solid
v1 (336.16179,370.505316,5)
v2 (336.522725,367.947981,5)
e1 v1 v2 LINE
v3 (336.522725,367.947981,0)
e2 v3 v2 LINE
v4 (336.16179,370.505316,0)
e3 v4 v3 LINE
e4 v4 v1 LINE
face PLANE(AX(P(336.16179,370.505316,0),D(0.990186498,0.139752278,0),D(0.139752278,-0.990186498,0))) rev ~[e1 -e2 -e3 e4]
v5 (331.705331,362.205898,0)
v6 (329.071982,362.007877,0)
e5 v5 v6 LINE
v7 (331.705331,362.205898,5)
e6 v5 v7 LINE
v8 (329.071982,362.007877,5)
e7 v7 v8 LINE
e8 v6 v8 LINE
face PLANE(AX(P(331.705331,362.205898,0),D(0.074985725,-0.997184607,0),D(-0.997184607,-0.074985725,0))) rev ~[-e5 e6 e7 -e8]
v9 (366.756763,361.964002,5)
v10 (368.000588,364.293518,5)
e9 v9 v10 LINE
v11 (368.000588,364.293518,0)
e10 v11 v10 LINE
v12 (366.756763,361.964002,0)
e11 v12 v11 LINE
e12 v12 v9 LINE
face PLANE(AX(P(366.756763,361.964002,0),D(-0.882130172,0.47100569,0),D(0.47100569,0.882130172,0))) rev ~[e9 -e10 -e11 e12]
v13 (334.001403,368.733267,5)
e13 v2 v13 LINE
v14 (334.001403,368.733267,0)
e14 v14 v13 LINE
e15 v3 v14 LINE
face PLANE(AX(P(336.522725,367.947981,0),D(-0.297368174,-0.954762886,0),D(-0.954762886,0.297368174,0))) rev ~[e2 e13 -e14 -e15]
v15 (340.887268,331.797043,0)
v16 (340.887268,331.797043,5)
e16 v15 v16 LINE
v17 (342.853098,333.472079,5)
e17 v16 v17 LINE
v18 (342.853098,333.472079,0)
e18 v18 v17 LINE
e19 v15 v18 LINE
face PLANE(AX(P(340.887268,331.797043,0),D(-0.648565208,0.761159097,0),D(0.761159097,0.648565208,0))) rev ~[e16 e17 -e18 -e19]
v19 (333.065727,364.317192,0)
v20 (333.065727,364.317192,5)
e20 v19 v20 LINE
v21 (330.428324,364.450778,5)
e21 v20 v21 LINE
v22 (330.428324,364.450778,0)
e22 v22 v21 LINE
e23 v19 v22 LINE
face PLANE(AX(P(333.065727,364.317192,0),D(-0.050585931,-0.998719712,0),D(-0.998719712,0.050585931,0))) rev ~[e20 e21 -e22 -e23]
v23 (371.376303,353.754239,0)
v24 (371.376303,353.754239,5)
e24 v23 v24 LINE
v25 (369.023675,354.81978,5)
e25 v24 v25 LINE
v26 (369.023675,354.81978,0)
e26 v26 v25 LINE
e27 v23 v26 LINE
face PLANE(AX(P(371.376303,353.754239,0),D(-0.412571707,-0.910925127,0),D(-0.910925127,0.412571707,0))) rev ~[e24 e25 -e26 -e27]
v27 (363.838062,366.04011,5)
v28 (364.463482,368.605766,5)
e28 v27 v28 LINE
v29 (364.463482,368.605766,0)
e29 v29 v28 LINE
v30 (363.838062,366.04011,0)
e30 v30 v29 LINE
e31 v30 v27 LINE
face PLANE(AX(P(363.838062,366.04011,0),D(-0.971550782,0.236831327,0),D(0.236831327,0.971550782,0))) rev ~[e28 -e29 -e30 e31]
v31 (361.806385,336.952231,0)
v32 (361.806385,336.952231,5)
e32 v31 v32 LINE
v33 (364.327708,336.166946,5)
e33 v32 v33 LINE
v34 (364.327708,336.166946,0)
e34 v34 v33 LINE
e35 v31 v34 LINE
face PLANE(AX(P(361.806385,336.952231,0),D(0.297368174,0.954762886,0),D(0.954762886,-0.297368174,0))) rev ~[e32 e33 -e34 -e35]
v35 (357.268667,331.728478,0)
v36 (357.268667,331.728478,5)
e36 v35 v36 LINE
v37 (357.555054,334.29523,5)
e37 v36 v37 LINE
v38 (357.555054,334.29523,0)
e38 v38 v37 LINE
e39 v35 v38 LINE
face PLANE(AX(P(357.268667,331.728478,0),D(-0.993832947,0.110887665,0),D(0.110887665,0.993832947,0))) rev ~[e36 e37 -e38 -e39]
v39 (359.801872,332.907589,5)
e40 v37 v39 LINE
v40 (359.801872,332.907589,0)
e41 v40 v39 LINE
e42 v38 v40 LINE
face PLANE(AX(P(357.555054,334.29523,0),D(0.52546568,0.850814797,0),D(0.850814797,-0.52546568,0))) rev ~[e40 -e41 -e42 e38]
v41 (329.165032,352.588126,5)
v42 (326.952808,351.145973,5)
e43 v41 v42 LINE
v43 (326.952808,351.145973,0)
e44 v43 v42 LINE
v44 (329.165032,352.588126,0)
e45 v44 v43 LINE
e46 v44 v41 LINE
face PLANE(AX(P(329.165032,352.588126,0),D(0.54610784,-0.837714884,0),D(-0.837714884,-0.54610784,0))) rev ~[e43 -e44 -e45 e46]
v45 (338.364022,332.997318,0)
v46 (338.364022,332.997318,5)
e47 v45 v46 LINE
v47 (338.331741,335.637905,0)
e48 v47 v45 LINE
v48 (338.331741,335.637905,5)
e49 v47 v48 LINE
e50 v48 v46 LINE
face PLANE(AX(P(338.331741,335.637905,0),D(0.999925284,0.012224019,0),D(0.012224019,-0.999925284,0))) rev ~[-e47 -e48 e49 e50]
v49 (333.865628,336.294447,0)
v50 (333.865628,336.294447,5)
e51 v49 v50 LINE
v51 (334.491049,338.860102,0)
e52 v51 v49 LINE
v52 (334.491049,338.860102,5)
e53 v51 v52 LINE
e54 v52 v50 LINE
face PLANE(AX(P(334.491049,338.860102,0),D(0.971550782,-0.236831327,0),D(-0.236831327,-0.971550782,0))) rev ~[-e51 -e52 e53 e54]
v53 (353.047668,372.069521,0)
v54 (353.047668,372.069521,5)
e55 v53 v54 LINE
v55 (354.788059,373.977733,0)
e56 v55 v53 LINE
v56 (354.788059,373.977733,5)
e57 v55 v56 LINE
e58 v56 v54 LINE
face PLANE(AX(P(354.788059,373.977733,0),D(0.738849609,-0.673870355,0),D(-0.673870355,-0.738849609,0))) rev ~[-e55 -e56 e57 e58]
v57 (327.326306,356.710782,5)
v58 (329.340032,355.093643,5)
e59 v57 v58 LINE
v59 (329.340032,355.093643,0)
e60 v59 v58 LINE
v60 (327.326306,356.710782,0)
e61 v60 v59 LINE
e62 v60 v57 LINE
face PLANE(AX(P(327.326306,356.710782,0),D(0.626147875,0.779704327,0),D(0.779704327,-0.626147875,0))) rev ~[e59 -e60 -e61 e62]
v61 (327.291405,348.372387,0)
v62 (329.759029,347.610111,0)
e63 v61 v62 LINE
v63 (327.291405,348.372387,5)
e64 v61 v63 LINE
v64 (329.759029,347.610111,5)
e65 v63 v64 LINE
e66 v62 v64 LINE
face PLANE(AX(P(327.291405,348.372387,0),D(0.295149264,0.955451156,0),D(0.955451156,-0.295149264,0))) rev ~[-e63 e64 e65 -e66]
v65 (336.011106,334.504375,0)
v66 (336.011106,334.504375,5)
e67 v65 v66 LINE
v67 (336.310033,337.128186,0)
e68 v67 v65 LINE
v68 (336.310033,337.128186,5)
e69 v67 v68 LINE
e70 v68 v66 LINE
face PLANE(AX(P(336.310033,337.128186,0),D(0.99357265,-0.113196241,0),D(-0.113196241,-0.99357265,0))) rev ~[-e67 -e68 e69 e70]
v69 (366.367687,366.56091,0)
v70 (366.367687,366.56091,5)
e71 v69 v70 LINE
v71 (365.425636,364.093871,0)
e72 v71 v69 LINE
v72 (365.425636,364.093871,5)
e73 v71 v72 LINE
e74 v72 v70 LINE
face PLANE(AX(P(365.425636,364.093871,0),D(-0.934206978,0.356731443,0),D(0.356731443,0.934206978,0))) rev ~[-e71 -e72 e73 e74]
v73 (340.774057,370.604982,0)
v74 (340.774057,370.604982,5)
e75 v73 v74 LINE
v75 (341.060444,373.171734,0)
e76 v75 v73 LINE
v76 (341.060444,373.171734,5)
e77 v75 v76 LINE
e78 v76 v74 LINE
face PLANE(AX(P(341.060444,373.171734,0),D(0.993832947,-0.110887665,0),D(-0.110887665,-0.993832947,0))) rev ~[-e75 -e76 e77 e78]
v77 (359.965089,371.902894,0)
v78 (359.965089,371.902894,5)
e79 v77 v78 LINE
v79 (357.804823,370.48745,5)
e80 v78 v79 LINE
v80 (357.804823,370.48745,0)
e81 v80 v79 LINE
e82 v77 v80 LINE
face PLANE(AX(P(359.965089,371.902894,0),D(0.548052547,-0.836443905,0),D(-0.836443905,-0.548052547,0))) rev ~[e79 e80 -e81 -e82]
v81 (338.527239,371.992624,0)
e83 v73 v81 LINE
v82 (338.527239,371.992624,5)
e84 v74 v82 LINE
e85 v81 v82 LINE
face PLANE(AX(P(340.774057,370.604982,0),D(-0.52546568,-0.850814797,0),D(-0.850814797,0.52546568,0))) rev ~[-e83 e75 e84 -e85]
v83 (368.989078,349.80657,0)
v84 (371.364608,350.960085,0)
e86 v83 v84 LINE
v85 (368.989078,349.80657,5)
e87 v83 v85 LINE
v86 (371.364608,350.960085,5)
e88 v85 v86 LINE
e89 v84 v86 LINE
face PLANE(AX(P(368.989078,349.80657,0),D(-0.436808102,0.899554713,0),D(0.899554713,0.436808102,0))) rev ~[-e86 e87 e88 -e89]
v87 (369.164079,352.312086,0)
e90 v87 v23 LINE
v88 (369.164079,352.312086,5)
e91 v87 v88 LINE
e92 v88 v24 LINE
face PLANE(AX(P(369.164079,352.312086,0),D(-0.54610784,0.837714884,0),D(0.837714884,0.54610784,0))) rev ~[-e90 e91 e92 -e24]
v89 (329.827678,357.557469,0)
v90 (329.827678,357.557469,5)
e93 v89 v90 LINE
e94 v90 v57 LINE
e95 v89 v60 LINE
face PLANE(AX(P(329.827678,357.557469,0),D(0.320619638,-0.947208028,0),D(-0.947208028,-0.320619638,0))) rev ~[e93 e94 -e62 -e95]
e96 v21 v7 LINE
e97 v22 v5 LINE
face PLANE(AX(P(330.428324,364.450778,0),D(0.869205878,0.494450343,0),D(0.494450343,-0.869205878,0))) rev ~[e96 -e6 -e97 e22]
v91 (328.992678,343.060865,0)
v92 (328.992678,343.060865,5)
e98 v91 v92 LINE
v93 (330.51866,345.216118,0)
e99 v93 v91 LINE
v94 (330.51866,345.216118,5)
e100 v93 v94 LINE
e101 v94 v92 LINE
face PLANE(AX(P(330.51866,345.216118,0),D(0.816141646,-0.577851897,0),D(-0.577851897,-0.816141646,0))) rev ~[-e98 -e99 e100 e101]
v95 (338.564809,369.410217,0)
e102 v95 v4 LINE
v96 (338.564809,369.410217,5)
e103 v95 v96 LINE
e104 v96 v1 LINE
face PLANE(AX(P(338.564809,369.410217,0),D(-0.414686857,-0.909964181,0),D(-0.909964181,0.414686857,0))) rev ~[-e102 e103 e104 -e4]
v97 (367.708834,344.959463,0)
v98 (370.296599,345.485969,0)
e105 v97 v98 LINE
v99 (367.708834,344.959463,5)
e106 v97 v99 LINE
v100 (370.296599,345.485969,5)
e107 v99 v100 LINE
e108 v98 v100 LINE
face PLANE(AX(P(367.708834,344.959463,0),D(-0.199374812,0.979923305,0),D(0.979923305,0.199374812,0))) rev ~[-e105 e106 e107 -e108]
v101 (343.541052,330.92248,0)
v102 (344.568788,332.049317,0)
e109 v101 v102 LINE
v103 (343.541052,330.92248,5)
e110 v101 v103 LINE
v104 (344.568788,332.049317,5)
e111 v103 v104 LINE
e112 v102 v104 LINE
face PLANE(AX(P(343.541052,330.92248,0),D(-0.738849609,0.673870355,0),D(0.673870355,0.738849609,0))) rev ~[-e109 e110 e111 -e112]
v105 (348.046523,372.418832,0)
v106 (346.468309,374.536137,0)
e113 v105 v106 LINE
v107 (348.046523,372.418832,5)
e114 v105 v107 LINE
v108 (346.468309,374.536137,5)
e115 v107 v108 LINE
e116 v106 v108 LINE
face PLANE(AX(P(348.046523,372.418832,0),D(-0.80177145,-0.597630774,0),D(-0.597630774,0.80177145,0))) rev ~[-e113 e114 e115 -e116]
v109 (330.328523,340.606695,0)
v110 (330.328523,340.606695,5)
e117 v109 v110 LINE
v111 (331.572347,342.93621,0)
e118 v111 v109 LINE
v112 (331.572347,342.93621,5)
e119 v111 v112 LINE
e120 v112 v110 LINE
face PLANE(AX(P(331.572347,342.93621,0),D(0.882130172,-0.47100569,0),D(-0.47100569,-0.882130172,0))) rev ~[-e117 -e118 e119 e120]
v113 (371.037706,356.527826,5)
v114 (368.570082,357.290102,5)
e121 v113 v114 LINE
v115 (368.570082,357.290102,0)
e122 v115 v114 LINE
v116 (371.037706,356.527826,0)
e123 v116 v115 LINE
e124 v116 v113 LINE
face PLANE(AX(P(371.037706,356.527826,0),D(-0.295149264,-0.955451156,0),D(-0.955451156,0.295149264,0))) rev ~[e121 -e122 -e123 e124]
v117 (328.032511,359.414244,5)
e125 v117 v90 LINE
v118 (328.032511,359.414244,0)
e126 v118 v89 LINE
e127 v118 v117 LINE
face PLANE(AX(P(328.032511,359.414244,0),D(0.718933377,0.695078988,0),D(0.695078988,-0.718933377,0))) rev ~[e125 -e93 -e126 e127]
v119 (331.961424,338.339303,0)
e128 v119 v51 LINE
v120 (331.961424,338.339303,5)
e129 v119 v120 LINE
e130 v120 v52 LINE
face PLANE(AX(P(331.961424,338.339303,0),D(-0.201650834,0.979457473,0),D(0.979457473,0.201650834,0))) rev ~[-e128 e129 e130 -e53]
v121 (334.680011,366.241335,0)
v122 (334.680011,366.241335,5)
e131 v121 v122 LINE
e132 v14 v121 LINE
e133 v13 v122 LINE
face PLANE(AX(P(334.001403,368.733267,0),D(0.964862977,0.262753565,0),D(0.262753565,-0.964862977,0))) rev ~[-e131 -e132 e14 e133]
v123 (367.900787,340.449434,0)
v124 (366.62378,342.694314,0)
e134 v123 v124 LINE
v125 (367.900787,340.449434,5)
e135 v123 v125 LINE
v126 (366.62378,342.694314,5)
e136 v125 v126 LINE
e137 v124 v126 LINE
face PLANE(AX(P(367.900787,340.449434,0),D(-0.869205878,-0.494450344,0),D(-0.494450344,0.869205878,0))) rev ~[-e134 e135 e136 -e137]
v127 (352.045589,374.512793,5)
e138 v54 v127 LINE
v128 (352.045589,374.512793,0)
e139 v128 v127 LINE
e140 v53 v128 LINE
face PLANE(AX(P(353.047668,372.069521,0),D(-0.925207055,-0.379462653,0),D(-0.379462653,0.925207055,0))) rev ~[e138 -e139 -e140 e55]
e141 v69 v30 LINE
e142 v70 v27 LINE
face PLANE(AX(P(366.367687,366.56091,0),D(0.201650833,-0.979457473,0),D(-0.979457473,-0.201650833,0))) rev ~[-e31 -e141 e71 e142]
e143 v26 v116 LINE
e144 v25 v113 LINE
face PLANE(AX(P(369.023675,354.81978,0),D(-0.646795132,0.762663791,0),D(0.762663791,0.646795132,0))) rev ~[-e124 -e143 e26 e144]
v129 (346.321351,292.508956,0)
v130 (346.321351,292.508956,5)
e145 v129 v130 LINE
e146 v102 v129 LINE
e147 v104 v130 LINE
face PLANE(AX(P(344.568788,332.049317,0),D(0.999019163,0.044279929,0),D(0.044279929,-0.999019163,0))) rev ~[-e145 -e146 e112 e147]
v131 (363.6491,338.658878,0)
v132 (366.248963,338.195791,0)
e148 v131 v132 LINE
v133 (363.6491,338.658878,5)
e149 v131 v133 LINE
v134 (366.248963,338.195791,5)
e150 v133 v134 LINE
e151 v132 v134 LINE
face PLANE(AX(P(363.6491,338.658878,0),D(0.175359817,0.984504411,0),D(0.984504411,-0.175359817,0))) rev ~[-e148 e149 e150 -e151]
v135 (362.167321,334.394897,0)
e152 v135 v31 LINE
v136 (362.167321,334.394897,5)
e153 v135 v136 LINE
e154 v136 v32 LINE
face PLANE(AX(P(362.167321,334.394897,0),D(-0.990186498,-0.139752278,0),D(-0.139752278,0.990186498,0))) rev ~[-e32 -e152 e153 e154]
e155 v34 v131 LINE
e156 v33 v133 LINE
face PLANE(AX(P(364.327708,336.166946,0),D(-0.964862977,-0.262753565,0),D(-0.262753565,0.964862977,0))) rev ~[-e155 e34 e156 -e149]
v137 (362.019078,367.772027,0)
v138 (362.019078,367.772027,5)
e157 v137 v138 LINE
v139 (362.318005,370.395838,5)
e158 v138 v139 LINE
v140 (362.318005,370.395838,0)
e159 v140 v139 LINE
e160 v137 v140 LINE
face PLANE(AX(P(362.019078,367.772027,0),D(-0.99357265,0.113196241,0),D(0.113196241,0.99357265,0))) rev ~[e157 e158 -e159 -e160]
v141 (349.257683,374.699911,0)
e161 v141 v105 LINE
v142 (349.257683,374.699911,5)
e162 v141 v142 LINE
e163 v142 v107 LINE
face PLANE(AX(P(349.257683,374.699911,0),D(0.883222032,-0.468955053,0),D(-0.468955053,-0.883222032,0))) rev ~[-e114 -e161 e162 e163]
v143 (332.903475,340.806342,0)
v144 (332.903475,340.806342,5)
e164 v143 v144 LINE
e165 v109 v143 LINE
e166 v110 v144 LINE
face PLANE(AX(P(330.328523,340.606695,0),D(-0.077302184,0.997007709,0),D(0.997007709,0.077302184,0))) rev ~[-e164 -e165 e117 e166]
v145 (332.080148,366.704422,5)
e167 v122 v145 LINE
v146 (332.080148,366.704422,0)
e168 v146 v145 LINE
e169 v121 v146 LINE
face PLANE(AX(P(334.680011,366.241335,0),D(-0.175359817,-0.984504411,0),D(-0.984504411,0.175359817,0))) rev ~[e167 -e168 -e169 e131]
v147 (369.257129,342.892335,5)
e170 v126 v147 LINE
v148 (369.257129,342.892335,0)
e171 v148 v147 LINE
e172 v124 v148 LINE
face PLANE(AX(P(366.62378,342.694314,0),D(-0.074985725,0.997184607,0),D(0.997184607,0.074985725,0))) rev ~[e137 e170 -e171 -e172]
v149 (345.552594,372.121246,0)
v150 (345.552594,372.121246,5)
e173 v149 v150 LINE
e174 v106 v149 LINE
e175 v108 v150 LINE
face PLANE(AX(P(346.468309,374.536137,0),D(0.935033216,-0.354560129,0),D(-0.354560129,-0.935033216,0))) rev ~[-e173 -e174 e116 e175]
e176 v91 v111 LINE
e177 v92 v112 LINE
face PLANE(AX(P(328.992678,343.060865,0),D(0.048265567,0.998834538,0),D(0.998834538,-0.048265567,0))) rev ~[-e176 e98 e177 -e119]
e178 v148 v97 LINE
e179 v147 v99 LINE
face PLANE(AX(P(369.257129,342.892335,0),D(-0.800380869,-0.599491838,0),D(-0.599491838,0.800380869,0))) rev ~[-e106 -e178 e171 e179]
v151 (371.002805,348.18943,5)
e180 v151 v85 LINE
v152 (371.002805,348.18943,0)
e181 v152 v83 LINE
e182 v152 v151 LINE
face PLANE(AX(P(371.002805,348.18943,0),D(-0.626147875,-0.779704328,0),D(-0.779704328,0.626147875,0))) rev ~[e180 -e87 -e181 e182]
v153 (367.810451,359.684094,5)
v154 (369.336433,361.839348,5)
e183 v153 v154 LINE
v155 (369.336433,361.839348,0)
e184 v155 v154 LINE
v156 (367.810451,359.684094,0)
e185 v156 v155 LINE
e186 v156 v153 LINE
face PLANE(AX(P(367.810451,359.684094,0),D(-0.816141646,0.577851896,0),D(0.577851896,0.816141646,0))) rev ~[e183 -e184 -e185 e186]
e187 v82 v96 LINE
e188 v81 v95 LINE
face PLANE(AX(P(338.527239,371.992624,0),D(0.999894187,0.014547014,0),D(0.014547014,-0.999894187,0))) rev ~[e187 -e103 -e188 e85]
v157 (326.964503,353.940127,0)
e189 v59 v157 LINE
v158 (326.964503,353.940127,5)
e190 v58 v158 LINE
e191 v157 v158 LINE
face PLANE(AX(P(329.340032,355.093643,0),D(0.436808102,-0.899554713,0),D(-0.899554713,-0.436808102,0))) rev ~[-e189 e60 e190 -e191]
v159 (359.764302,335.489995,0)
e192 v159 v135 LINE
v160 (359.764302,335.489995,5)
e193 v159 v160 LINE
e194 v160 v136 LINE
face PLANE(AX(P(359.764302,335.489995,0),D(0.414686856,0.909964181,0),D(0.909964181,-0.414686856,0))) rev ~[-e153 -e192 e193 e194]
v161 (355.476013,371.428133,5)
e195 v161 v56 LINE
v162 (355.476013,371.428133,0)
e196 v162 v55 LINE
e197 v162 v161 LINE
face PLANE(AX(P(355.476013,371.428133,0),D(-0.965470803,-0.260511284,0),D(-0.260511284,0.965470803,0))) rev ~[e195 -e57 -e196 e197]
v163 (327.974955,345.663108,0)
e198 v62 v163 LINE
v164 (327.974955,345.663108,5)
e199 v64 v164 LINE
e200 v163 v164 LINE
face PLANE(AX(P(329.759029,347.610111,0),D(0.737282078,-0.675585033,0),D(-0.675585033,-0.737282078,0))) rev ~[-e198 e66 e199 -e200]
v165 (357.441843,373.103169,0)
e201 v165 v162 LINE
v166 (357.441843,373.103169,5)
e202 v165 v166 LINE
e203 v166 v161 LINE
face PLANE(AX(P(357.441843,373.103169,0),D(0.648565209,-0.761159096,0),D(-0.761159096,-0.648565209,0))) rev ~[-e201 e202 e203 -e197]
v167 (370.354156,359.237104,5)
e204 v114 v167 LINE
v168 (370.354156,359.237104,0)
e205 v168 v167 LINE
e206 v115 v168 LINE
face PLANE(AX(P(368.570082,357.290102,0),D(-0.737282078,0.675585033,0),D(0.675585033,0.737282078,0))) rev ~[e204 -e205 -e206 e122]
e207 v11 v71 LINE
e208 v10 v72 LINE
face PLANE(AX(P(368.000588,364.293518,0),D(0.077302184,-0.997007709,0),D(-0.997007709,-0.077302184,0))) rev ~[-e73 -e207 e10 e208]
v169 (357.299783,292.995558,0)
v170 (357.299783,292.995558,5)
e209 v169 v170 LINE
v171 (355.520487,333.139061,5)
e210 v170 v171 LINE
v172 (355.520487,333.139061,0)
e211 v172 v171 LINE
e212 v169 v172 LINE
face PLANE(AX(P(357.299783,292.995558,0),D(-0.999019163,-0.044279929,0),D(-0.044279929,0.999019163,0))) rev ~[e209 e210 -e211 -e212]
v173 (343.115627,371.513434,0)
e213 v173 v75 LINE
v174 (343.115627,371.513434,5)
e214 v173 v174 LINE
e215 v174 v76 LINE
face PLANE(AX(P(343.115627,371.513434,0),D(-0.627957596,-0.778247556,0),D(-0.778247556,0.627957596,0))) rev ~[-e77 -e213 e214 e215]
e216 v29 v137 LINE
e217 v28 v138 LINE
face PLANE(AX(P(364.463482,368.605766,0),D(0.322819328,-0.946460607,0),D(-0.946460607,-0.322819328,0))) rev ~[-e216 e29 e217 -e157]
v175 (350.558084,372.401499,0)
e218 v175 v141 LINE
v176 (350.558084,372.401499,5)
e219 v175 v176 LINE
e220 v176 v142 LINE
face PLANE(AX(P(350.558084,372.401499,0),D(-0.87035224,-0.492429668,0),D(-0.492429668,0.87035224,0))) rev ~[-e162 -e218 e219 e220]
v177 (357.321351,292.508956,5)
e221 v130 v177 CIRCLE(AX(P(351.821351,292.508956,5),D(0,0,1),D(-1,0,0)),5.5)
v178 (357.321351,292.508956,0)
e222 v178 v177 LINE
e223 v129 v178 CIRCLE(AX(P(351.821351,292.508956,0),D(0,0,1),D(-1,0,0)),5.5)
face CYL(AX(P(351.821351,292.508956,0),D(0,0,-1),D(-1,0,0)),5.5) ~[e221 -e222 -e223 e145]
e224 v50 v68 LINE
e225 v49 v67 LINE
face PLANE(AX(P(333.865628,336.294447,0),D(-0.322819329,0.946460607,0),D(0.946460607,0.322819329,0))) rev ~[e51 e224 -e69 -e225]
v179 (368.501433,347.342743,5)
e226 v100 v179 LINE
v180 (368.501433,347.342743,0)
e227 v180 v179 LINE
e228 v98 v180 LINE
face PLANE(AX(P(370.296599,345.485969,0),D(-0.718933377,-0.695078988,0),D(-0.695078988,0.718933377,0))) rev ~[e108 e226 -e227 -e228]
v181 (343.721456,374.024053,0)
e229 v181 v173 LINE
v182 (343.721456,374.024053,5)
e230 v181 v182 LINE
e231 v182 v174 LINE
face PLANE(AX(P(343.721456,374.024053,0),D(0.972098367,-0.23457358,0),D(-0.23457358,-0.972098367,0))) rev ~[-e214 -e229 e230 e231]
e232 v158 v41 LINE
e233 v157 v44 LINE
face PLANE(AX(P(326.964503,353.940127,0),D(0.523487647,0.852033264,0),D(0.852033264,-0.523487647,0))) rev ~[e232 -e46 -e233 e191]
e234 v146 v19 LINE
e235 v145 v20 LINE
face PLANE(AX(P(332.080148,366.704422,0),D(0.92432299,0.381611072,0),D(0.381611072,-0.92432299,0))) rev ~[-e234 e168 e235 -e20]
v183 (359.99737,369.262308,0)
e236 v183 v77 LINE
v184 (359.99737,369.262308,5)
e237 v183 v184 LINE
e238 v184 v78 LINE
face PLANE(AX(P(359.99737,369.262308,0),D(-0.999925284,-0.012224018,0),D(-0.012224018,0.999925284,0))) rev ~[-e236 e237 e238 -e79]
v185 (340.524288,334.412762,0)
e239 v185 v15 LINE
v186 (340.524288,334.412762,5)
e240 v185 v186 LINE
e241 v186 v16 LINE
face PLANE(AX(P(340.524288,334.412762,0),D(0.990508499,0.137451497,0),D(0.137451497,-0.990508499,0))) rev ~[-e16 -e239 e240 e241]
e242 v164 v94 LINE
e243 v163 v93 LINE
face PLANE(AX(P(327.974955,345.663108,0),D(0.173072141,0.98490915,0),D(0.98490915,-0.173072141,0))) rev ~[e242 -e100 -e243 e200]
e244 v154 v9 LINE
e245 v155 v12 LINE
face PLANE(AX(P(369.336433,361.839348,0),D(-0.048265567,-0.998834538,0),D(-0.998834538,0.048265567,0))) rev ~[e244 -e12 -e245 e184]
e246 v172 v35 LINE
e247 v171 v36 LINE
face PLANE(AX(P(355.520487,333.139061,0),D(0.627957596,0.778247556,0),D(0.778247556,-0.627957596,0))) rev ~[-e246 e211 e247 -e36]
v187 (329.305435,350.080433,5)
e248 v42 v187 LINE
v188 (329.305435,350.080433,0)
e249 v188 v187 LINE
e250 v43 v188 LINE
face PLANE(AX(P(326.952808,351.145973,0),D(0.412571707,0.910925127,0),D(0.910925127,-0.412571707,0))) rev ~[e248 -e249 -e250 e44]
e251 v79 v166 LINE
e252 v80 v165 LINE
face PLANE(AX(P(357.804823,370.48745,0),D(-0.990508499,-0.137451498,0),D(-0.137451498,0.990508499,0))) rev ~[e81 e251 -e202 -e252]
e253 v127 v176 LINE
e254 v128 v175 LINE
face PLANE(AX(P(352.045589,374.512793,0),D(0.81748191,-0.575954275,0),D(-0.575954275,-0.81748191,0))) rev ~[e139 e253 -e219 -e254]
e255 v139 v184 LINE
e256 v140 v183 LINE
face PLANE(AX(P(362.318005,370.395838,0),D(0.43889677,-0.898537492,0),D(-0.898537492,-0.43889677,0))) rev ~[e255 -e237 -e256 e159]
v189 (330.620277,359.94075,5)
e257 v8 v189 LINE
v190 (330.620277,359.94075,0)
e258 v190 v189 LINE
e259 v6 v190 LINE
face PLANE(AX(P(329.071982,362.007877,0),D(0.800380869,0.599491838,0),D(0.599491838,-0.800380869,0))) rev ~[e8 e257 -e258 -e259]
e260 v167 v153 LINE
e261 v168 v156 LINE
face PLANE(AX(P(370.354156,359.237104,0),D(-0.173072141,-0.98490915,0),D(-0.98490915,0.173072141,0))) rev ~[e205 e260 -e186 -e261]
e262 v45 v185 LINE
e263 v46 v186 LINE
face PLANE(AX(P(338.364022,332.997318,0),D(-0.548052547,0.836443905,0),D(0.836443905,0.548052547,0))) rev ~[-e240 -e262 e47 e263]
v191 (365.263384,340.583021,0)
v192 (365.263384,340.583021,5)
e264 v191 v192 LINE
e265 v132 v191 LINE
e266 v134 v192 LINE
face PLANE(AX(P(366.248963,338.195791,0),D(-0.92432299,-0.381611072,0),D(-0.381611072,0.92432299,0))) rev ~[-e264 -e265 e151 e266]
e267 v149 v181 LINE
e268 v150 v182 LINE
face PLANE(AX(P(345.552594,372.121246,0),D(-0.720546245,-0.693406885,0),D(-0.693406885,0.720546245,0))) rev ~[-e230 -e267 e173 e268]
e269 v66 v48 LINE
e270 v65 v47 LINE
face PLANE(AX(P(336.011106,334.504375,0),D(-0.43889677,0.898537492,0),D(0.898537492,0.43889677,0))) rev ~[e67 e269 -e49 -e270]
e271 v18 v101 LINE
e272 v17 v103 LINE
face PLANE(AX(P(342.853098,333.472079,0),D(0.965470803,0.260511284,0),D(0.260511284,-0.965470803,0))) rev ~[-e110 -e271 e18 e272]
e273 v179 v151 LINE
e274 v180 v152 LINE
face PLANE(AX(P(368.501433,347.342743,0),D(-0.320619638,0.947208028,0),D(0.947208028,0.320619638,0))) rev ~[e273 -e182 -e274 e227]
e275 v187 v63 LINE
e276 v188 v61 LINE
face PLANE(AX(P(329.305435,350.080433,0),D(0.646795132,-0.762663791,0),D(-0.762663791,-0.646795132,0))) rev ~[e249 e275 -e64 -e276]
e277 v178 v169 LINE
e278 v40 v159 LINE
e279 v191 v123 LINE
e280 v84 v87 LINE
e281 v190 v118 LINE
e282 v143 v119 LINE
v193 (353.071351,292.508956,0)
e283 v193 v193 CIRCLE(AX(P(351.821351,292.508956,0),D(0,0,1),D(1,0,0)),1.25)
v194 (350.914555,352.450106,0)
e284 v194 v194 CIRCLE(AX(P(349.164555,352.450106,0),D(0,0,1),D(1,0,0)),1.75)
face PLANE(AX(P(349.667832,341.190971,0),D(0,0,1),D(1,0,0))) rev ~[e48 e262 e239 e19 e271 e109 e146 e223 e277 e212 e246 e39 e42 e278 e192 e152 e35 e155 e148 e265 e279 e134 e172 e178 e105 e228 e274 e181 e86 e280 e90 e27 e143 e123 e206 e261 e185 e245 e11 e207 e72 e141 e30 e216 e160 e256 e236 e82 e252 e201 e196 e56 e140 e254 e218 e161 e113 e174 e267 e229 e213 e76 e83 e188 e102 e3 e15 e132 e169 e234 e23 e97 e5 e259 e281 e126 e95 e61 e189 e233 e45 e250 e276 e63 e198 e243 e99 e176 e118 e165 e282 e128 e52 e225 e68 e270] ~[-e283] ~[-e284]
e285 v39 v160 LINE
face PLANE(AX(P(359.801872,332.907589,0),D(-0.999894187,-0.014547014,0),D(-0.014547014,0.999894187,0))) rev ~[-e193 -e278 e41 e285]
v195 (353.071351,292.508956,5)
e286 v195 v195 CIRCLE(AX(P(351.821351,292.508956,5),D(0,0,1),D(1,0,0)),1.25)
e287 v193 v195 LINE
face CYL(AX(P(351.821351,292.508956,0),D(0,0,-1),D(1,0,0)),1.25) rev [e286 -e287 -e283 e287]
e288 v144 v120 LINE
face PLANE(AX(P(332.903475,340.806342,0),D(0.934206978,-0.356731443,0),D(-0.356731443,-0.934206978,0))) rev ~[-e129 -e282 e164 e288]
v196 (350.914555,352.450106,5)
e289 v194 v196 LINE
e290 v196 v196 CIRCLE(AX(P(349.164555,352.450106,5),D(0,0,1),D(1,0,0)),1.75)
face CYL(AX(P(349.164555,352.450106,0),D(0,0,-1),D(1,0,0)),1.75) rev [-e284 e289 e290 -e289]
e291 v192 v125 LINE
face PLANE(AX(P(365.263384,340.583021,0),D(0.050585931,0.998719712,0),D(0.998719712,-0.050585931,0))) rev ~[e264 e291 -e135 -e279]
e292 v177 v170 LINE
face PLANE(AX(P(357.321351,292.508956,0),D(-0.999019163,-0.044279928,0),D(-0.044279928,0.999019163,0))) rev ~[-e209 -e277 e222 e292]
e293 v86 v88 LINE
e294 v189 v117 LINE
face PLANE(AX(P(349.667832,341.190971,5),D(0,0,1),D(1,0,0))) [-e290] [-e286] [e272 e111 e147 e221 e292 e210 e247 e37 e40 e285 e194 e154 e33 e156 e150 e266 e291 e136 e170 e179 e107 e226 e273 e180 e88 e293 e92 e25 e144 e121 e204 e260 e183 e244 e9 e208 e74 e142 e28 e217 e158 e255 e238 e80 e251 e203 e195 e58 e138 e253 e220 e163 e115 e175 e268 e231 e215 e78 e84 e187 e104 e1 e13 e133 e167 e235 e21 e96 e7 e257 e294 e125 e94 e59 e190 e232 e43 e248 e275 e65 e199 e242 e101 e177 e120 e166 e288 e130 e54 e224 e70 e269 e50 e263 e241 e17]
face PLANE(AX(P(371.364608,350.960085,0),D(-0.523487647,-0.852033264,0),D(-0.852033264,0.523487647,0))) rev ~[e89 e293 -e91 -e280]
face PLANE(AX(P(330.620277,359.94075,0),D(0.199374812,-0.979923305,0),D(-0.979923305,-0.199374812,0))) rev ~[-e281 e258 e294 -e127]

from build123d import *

# Parameters (mm, degrees)
SKETCH1_R           = 1.25
SKETCH1_R_2         = 1.75
BOSS_EXTRUDE2_DEPTH = 5


with BuildPart() as part:
    # Sketch1 → Boss-Extrude2 (new body)
    with BuildSketch(Plane.XY):
        with BuildLine():
            Line((349.257683179, 374.699911371), (348.046522548, 372.418831878))
            Line((348.046522548, 372.418831878), (346.468308818, 374.536137019))
            Line((346.468308818, 374.536137019), (345.55259362, 372.121245841))
            Line((345.55259362, 372.121245841), (343.721455877, 374.024052769))
            Line((343.721455877, 374.024052769), (343.115627486, 371.513434183))
            Line((343.115627486, 371.513434183), (341.060443866, 373.171734495))
            Line((341.060443866, 373.171734495), (340.774056559, 370.604982455))
            Line((340.774056559, 370.604982455), (338.527238535, 371.992623765))
            Line((338.527238535, 371.992623765), (338.564808811, 369.410217484))
            Line((338.564808811, 369.410217484), (336.161790046, 370.505315861))
            Line((336.161790046, 370.505315861), (336.522725398, 367.947981428))
            Line((336.522725398, 367.947981428), (334.001402933, 368.733266515))
            Line((334.001402933, 368.733266515), (334.680011196, 366.241334623))
            Line((334.680011196, 366.241334623), (332.080147792, 366.704422005))
            Line((332.080147792, 366.704422005), (333.065726908, 364.317191908))
            Line((333.065726908, 364.317191908), (330.428323965, 364.450778421))
            Line((330.428323965, 364.450778421), (331.705330762, 362.205898164))
            Line((331.705330762, 362.205898164), (329.0719817, 362.007877067))
            Line((329.0719817, 362.007877067), (330.620277019, 359.940749753))
            Line((330.620277019, 359.940749753), (328.032511325, 359.414243959))
            Line((328.032511325, 359.414243959), (329.827677623, 357.55746942))
            Line((329.827677623, 357.55746942), (327.326305908, 356.71078224))
            Line((327.326305908, 356.71078224), (329.34003234, 355.093642919))
            Line((329.34003234, 355.093642919), (326.964502731, 353.940127114))
            Line((326.964502731, 353.940127114), (329.165031629, 352.588126266))
            Line((329.165031629, 352.588126266), (326.952807646, 351.145973471))
            Line((326.952807646, 351.145973471), (329.305435355, 350.080432955))
            Line((329.305435355, 350.080432955), (327.291405091, 348.37238678))
            Line((327.291405091, 348.37238678), (329.759029266, 347.610110808))
            Line((329.759029266, 347.610110808), (327.974955183, 345.663108161))
            Line((327.974955183, 345.663108161), (330.518659917, 345.21611828))
            Line((330.518659917, 345.21611828), (328.992677928, 343.060864557))
            Line((328.992677928, 343.060864557), (331.572347478, 342.936210064))
            Line((331.572347478, 342.936210064), (330.328523231, 340.606694904))
            Line((330.328523231, 340.606694904), (332.903474666, 340.806341675))
            Line((332.903474666, 340.806341675), (331.961424013, 338.339302922))
            Line((331.961424013, 338.339302922), (334.491048812, 338.860102409))
            Line((334.491048812, 338.860102409), (333.865628454, 336.294446739))
            Line((333.865628454, 336.294446739), (336.310032922, 337.128185622))
            Line((336.310032922, 337.128185622), (336.011106111, 334.504374958))
            Line((336.011106111, 334.504374958), (338.331740529, 335.637904676))
            Line((338.331740529, 335.637904676), (338.364021521, 332.997318079))
            Line((338.364021521, 332.997318079), (340.524288099, 334.412762192))
            Line((340.524288099, 334.412762192), (340.887267801, 331.797043291))
            Line((340.887267801, 331.797043291), (342.853097845, 333.4720794))
            Line((342.853097845, 333.4720794), (343.541051852, 330.922479643))
            Line((343.541051852, 330.922479643), (344.568787794, 332.049317014))
            Line((344.568787794, 332.049317014), (346.321351139, 292.508956491))
            ThreePointArc((346.321351139, 292.508956491), (351.821351139, 287.008956491), (357.321351139, 292.508956491))
            Line((357.321351139, 292.508956491), (357.299783306, 292.995557967))
            Line((357.299783306, 292.995557967), (355.520486612, 333.139061449))
            Line((355.520486612, 333.139061449), (357.268666905, 331.728478036))
            Line((357.268666905, 331.728478036), (357.555054212, 334.295230076))
            Line((357.555054212, 334.295230076), (359.801872235, 332.907588766))
            Line((359.801872235, 332.907588766), (359.76430196, 335.489995047))
            Line((359.76430196, 335.489995047), (362.167320725, 334.394896671))
            Line((362.167320725, 334.394896671), (361.806385373, 336.952231103))
            Line((361.806385373, 336.952231103), (364.327707838, 336.166946016))
            Line((364.327707838, 336.166946016), (363.649099575, 338.658877908))
            Line((363.649099575, 338.658877908), (366.248962979, 338.195790526))
            Line((366.248962979, 338.195790526), (365.263383863, 340.583020623))
            Line((365.263383863, 340.583020623), (367.900786806, 340.449434111))
            Line((367.900786806, 340.449434111), (366.623780008, 342.694314367))
            Line((366.623780008, 342.694314367), (369.257129071, 342.892335464))
            Line((369.257129071, 342.892335464), (367.708833752, 344.959462778))
            Line((367.708833752, 344.959462778), (370.296599446, 345.485968572))
            Line((370.296599446, 345.485968572), (368.501433148, 347.342743111))
            Line((368.501433148, 347.342743111), (371.002804863, 348.189430292))
            Line((371.002804863, 348.189430292), (368.98907843, 349.806569612))
            Line((368.98907843, 349.806569612), (371.36460804, 350.960085417))
            Line((371.36460804, 350.960085417), (369.164079142, 352.312086265))
            Line((369.164079142, 352.312086265), (371.376303125, 353.754239061))
            Line((371.376303125, 353.754239061), (369.023675416, 354.819779576))
            Line((369.023675416, 354.819779576), (371.03770568, 356.527825751))
            Line((371.03770568, 356.527825751), (368.570081505, 357.290101724))
            Line((368.570081505, 357.290101724), (370.354155588, 359.23710437))
            Line((370.354155588, 359.23710437), (367.810450854, 359.684094251))
            Line((367.810450854, 359.684094251), (369.336432842, 361.839347974))
            Line((369.336432842, 361.839347974), (366.756763293, 361.964002467))
            Line((366.756763293, 361.964002467), (368.00058754, 364.293517627))
            Line((368.00058754, 364.293517627), (365.425636104, 364.093870857))
            Line((365.425636104, 364.093870857), (366.367686758, 366.560909609))
            Line((366.367686758, 366.560909609), (363.838061959, 366.040110123))
            Line((363.838061959, 366.040110123), (364.463482317, 368.605765792))
            Line((364.463482317, 368.605765792), (362.019077849, 367.77202691))
            Line((362.019077849, 367.77202691), (362.31800466, 370.395837574))
            Line((362.31800466, 370.395837574), (359.997370241, 369.262307855))
            Line((359.997370241, 369.262307855), (359.96508925, 371.902894452))
            Line((359.96508925, 371.902894452), (357.804822672, 370.487450339))
            Line((357.804822672, 370.487450339), (357.441842969, 373.103169241))
            Line((357.441842969, 373.103169241), (355.476012926, 371.428133131))
            Line((355.476012926, 371.428133131), (354.788058919, 373.977732888))
            Line((354.788058919, 373.977732888), (353.047667725, 372.069521103))
            Line((353.047667725, 372.069521103), (352.045588858, 374.512793004))
            Line((352.045588858, 374.512793004), (350.558083522, 372.401499183))
            Line((350.558083522, 372.401499183), (349.257683179, 374.699911371))
        make_face()
        with Locations((351.821351139, 292.508956491)):
            Circle(SKETCH1_R, mode=Mode.SUBTRACT)
        with Locations((349.164555385, 352.450106266)):
            Circle(SKETCH1_R_2, mode=Mode.SUBTRACT)
    extrude(amount=BOSS_EXTRUDE2_DEPTH)


solid = part.part
